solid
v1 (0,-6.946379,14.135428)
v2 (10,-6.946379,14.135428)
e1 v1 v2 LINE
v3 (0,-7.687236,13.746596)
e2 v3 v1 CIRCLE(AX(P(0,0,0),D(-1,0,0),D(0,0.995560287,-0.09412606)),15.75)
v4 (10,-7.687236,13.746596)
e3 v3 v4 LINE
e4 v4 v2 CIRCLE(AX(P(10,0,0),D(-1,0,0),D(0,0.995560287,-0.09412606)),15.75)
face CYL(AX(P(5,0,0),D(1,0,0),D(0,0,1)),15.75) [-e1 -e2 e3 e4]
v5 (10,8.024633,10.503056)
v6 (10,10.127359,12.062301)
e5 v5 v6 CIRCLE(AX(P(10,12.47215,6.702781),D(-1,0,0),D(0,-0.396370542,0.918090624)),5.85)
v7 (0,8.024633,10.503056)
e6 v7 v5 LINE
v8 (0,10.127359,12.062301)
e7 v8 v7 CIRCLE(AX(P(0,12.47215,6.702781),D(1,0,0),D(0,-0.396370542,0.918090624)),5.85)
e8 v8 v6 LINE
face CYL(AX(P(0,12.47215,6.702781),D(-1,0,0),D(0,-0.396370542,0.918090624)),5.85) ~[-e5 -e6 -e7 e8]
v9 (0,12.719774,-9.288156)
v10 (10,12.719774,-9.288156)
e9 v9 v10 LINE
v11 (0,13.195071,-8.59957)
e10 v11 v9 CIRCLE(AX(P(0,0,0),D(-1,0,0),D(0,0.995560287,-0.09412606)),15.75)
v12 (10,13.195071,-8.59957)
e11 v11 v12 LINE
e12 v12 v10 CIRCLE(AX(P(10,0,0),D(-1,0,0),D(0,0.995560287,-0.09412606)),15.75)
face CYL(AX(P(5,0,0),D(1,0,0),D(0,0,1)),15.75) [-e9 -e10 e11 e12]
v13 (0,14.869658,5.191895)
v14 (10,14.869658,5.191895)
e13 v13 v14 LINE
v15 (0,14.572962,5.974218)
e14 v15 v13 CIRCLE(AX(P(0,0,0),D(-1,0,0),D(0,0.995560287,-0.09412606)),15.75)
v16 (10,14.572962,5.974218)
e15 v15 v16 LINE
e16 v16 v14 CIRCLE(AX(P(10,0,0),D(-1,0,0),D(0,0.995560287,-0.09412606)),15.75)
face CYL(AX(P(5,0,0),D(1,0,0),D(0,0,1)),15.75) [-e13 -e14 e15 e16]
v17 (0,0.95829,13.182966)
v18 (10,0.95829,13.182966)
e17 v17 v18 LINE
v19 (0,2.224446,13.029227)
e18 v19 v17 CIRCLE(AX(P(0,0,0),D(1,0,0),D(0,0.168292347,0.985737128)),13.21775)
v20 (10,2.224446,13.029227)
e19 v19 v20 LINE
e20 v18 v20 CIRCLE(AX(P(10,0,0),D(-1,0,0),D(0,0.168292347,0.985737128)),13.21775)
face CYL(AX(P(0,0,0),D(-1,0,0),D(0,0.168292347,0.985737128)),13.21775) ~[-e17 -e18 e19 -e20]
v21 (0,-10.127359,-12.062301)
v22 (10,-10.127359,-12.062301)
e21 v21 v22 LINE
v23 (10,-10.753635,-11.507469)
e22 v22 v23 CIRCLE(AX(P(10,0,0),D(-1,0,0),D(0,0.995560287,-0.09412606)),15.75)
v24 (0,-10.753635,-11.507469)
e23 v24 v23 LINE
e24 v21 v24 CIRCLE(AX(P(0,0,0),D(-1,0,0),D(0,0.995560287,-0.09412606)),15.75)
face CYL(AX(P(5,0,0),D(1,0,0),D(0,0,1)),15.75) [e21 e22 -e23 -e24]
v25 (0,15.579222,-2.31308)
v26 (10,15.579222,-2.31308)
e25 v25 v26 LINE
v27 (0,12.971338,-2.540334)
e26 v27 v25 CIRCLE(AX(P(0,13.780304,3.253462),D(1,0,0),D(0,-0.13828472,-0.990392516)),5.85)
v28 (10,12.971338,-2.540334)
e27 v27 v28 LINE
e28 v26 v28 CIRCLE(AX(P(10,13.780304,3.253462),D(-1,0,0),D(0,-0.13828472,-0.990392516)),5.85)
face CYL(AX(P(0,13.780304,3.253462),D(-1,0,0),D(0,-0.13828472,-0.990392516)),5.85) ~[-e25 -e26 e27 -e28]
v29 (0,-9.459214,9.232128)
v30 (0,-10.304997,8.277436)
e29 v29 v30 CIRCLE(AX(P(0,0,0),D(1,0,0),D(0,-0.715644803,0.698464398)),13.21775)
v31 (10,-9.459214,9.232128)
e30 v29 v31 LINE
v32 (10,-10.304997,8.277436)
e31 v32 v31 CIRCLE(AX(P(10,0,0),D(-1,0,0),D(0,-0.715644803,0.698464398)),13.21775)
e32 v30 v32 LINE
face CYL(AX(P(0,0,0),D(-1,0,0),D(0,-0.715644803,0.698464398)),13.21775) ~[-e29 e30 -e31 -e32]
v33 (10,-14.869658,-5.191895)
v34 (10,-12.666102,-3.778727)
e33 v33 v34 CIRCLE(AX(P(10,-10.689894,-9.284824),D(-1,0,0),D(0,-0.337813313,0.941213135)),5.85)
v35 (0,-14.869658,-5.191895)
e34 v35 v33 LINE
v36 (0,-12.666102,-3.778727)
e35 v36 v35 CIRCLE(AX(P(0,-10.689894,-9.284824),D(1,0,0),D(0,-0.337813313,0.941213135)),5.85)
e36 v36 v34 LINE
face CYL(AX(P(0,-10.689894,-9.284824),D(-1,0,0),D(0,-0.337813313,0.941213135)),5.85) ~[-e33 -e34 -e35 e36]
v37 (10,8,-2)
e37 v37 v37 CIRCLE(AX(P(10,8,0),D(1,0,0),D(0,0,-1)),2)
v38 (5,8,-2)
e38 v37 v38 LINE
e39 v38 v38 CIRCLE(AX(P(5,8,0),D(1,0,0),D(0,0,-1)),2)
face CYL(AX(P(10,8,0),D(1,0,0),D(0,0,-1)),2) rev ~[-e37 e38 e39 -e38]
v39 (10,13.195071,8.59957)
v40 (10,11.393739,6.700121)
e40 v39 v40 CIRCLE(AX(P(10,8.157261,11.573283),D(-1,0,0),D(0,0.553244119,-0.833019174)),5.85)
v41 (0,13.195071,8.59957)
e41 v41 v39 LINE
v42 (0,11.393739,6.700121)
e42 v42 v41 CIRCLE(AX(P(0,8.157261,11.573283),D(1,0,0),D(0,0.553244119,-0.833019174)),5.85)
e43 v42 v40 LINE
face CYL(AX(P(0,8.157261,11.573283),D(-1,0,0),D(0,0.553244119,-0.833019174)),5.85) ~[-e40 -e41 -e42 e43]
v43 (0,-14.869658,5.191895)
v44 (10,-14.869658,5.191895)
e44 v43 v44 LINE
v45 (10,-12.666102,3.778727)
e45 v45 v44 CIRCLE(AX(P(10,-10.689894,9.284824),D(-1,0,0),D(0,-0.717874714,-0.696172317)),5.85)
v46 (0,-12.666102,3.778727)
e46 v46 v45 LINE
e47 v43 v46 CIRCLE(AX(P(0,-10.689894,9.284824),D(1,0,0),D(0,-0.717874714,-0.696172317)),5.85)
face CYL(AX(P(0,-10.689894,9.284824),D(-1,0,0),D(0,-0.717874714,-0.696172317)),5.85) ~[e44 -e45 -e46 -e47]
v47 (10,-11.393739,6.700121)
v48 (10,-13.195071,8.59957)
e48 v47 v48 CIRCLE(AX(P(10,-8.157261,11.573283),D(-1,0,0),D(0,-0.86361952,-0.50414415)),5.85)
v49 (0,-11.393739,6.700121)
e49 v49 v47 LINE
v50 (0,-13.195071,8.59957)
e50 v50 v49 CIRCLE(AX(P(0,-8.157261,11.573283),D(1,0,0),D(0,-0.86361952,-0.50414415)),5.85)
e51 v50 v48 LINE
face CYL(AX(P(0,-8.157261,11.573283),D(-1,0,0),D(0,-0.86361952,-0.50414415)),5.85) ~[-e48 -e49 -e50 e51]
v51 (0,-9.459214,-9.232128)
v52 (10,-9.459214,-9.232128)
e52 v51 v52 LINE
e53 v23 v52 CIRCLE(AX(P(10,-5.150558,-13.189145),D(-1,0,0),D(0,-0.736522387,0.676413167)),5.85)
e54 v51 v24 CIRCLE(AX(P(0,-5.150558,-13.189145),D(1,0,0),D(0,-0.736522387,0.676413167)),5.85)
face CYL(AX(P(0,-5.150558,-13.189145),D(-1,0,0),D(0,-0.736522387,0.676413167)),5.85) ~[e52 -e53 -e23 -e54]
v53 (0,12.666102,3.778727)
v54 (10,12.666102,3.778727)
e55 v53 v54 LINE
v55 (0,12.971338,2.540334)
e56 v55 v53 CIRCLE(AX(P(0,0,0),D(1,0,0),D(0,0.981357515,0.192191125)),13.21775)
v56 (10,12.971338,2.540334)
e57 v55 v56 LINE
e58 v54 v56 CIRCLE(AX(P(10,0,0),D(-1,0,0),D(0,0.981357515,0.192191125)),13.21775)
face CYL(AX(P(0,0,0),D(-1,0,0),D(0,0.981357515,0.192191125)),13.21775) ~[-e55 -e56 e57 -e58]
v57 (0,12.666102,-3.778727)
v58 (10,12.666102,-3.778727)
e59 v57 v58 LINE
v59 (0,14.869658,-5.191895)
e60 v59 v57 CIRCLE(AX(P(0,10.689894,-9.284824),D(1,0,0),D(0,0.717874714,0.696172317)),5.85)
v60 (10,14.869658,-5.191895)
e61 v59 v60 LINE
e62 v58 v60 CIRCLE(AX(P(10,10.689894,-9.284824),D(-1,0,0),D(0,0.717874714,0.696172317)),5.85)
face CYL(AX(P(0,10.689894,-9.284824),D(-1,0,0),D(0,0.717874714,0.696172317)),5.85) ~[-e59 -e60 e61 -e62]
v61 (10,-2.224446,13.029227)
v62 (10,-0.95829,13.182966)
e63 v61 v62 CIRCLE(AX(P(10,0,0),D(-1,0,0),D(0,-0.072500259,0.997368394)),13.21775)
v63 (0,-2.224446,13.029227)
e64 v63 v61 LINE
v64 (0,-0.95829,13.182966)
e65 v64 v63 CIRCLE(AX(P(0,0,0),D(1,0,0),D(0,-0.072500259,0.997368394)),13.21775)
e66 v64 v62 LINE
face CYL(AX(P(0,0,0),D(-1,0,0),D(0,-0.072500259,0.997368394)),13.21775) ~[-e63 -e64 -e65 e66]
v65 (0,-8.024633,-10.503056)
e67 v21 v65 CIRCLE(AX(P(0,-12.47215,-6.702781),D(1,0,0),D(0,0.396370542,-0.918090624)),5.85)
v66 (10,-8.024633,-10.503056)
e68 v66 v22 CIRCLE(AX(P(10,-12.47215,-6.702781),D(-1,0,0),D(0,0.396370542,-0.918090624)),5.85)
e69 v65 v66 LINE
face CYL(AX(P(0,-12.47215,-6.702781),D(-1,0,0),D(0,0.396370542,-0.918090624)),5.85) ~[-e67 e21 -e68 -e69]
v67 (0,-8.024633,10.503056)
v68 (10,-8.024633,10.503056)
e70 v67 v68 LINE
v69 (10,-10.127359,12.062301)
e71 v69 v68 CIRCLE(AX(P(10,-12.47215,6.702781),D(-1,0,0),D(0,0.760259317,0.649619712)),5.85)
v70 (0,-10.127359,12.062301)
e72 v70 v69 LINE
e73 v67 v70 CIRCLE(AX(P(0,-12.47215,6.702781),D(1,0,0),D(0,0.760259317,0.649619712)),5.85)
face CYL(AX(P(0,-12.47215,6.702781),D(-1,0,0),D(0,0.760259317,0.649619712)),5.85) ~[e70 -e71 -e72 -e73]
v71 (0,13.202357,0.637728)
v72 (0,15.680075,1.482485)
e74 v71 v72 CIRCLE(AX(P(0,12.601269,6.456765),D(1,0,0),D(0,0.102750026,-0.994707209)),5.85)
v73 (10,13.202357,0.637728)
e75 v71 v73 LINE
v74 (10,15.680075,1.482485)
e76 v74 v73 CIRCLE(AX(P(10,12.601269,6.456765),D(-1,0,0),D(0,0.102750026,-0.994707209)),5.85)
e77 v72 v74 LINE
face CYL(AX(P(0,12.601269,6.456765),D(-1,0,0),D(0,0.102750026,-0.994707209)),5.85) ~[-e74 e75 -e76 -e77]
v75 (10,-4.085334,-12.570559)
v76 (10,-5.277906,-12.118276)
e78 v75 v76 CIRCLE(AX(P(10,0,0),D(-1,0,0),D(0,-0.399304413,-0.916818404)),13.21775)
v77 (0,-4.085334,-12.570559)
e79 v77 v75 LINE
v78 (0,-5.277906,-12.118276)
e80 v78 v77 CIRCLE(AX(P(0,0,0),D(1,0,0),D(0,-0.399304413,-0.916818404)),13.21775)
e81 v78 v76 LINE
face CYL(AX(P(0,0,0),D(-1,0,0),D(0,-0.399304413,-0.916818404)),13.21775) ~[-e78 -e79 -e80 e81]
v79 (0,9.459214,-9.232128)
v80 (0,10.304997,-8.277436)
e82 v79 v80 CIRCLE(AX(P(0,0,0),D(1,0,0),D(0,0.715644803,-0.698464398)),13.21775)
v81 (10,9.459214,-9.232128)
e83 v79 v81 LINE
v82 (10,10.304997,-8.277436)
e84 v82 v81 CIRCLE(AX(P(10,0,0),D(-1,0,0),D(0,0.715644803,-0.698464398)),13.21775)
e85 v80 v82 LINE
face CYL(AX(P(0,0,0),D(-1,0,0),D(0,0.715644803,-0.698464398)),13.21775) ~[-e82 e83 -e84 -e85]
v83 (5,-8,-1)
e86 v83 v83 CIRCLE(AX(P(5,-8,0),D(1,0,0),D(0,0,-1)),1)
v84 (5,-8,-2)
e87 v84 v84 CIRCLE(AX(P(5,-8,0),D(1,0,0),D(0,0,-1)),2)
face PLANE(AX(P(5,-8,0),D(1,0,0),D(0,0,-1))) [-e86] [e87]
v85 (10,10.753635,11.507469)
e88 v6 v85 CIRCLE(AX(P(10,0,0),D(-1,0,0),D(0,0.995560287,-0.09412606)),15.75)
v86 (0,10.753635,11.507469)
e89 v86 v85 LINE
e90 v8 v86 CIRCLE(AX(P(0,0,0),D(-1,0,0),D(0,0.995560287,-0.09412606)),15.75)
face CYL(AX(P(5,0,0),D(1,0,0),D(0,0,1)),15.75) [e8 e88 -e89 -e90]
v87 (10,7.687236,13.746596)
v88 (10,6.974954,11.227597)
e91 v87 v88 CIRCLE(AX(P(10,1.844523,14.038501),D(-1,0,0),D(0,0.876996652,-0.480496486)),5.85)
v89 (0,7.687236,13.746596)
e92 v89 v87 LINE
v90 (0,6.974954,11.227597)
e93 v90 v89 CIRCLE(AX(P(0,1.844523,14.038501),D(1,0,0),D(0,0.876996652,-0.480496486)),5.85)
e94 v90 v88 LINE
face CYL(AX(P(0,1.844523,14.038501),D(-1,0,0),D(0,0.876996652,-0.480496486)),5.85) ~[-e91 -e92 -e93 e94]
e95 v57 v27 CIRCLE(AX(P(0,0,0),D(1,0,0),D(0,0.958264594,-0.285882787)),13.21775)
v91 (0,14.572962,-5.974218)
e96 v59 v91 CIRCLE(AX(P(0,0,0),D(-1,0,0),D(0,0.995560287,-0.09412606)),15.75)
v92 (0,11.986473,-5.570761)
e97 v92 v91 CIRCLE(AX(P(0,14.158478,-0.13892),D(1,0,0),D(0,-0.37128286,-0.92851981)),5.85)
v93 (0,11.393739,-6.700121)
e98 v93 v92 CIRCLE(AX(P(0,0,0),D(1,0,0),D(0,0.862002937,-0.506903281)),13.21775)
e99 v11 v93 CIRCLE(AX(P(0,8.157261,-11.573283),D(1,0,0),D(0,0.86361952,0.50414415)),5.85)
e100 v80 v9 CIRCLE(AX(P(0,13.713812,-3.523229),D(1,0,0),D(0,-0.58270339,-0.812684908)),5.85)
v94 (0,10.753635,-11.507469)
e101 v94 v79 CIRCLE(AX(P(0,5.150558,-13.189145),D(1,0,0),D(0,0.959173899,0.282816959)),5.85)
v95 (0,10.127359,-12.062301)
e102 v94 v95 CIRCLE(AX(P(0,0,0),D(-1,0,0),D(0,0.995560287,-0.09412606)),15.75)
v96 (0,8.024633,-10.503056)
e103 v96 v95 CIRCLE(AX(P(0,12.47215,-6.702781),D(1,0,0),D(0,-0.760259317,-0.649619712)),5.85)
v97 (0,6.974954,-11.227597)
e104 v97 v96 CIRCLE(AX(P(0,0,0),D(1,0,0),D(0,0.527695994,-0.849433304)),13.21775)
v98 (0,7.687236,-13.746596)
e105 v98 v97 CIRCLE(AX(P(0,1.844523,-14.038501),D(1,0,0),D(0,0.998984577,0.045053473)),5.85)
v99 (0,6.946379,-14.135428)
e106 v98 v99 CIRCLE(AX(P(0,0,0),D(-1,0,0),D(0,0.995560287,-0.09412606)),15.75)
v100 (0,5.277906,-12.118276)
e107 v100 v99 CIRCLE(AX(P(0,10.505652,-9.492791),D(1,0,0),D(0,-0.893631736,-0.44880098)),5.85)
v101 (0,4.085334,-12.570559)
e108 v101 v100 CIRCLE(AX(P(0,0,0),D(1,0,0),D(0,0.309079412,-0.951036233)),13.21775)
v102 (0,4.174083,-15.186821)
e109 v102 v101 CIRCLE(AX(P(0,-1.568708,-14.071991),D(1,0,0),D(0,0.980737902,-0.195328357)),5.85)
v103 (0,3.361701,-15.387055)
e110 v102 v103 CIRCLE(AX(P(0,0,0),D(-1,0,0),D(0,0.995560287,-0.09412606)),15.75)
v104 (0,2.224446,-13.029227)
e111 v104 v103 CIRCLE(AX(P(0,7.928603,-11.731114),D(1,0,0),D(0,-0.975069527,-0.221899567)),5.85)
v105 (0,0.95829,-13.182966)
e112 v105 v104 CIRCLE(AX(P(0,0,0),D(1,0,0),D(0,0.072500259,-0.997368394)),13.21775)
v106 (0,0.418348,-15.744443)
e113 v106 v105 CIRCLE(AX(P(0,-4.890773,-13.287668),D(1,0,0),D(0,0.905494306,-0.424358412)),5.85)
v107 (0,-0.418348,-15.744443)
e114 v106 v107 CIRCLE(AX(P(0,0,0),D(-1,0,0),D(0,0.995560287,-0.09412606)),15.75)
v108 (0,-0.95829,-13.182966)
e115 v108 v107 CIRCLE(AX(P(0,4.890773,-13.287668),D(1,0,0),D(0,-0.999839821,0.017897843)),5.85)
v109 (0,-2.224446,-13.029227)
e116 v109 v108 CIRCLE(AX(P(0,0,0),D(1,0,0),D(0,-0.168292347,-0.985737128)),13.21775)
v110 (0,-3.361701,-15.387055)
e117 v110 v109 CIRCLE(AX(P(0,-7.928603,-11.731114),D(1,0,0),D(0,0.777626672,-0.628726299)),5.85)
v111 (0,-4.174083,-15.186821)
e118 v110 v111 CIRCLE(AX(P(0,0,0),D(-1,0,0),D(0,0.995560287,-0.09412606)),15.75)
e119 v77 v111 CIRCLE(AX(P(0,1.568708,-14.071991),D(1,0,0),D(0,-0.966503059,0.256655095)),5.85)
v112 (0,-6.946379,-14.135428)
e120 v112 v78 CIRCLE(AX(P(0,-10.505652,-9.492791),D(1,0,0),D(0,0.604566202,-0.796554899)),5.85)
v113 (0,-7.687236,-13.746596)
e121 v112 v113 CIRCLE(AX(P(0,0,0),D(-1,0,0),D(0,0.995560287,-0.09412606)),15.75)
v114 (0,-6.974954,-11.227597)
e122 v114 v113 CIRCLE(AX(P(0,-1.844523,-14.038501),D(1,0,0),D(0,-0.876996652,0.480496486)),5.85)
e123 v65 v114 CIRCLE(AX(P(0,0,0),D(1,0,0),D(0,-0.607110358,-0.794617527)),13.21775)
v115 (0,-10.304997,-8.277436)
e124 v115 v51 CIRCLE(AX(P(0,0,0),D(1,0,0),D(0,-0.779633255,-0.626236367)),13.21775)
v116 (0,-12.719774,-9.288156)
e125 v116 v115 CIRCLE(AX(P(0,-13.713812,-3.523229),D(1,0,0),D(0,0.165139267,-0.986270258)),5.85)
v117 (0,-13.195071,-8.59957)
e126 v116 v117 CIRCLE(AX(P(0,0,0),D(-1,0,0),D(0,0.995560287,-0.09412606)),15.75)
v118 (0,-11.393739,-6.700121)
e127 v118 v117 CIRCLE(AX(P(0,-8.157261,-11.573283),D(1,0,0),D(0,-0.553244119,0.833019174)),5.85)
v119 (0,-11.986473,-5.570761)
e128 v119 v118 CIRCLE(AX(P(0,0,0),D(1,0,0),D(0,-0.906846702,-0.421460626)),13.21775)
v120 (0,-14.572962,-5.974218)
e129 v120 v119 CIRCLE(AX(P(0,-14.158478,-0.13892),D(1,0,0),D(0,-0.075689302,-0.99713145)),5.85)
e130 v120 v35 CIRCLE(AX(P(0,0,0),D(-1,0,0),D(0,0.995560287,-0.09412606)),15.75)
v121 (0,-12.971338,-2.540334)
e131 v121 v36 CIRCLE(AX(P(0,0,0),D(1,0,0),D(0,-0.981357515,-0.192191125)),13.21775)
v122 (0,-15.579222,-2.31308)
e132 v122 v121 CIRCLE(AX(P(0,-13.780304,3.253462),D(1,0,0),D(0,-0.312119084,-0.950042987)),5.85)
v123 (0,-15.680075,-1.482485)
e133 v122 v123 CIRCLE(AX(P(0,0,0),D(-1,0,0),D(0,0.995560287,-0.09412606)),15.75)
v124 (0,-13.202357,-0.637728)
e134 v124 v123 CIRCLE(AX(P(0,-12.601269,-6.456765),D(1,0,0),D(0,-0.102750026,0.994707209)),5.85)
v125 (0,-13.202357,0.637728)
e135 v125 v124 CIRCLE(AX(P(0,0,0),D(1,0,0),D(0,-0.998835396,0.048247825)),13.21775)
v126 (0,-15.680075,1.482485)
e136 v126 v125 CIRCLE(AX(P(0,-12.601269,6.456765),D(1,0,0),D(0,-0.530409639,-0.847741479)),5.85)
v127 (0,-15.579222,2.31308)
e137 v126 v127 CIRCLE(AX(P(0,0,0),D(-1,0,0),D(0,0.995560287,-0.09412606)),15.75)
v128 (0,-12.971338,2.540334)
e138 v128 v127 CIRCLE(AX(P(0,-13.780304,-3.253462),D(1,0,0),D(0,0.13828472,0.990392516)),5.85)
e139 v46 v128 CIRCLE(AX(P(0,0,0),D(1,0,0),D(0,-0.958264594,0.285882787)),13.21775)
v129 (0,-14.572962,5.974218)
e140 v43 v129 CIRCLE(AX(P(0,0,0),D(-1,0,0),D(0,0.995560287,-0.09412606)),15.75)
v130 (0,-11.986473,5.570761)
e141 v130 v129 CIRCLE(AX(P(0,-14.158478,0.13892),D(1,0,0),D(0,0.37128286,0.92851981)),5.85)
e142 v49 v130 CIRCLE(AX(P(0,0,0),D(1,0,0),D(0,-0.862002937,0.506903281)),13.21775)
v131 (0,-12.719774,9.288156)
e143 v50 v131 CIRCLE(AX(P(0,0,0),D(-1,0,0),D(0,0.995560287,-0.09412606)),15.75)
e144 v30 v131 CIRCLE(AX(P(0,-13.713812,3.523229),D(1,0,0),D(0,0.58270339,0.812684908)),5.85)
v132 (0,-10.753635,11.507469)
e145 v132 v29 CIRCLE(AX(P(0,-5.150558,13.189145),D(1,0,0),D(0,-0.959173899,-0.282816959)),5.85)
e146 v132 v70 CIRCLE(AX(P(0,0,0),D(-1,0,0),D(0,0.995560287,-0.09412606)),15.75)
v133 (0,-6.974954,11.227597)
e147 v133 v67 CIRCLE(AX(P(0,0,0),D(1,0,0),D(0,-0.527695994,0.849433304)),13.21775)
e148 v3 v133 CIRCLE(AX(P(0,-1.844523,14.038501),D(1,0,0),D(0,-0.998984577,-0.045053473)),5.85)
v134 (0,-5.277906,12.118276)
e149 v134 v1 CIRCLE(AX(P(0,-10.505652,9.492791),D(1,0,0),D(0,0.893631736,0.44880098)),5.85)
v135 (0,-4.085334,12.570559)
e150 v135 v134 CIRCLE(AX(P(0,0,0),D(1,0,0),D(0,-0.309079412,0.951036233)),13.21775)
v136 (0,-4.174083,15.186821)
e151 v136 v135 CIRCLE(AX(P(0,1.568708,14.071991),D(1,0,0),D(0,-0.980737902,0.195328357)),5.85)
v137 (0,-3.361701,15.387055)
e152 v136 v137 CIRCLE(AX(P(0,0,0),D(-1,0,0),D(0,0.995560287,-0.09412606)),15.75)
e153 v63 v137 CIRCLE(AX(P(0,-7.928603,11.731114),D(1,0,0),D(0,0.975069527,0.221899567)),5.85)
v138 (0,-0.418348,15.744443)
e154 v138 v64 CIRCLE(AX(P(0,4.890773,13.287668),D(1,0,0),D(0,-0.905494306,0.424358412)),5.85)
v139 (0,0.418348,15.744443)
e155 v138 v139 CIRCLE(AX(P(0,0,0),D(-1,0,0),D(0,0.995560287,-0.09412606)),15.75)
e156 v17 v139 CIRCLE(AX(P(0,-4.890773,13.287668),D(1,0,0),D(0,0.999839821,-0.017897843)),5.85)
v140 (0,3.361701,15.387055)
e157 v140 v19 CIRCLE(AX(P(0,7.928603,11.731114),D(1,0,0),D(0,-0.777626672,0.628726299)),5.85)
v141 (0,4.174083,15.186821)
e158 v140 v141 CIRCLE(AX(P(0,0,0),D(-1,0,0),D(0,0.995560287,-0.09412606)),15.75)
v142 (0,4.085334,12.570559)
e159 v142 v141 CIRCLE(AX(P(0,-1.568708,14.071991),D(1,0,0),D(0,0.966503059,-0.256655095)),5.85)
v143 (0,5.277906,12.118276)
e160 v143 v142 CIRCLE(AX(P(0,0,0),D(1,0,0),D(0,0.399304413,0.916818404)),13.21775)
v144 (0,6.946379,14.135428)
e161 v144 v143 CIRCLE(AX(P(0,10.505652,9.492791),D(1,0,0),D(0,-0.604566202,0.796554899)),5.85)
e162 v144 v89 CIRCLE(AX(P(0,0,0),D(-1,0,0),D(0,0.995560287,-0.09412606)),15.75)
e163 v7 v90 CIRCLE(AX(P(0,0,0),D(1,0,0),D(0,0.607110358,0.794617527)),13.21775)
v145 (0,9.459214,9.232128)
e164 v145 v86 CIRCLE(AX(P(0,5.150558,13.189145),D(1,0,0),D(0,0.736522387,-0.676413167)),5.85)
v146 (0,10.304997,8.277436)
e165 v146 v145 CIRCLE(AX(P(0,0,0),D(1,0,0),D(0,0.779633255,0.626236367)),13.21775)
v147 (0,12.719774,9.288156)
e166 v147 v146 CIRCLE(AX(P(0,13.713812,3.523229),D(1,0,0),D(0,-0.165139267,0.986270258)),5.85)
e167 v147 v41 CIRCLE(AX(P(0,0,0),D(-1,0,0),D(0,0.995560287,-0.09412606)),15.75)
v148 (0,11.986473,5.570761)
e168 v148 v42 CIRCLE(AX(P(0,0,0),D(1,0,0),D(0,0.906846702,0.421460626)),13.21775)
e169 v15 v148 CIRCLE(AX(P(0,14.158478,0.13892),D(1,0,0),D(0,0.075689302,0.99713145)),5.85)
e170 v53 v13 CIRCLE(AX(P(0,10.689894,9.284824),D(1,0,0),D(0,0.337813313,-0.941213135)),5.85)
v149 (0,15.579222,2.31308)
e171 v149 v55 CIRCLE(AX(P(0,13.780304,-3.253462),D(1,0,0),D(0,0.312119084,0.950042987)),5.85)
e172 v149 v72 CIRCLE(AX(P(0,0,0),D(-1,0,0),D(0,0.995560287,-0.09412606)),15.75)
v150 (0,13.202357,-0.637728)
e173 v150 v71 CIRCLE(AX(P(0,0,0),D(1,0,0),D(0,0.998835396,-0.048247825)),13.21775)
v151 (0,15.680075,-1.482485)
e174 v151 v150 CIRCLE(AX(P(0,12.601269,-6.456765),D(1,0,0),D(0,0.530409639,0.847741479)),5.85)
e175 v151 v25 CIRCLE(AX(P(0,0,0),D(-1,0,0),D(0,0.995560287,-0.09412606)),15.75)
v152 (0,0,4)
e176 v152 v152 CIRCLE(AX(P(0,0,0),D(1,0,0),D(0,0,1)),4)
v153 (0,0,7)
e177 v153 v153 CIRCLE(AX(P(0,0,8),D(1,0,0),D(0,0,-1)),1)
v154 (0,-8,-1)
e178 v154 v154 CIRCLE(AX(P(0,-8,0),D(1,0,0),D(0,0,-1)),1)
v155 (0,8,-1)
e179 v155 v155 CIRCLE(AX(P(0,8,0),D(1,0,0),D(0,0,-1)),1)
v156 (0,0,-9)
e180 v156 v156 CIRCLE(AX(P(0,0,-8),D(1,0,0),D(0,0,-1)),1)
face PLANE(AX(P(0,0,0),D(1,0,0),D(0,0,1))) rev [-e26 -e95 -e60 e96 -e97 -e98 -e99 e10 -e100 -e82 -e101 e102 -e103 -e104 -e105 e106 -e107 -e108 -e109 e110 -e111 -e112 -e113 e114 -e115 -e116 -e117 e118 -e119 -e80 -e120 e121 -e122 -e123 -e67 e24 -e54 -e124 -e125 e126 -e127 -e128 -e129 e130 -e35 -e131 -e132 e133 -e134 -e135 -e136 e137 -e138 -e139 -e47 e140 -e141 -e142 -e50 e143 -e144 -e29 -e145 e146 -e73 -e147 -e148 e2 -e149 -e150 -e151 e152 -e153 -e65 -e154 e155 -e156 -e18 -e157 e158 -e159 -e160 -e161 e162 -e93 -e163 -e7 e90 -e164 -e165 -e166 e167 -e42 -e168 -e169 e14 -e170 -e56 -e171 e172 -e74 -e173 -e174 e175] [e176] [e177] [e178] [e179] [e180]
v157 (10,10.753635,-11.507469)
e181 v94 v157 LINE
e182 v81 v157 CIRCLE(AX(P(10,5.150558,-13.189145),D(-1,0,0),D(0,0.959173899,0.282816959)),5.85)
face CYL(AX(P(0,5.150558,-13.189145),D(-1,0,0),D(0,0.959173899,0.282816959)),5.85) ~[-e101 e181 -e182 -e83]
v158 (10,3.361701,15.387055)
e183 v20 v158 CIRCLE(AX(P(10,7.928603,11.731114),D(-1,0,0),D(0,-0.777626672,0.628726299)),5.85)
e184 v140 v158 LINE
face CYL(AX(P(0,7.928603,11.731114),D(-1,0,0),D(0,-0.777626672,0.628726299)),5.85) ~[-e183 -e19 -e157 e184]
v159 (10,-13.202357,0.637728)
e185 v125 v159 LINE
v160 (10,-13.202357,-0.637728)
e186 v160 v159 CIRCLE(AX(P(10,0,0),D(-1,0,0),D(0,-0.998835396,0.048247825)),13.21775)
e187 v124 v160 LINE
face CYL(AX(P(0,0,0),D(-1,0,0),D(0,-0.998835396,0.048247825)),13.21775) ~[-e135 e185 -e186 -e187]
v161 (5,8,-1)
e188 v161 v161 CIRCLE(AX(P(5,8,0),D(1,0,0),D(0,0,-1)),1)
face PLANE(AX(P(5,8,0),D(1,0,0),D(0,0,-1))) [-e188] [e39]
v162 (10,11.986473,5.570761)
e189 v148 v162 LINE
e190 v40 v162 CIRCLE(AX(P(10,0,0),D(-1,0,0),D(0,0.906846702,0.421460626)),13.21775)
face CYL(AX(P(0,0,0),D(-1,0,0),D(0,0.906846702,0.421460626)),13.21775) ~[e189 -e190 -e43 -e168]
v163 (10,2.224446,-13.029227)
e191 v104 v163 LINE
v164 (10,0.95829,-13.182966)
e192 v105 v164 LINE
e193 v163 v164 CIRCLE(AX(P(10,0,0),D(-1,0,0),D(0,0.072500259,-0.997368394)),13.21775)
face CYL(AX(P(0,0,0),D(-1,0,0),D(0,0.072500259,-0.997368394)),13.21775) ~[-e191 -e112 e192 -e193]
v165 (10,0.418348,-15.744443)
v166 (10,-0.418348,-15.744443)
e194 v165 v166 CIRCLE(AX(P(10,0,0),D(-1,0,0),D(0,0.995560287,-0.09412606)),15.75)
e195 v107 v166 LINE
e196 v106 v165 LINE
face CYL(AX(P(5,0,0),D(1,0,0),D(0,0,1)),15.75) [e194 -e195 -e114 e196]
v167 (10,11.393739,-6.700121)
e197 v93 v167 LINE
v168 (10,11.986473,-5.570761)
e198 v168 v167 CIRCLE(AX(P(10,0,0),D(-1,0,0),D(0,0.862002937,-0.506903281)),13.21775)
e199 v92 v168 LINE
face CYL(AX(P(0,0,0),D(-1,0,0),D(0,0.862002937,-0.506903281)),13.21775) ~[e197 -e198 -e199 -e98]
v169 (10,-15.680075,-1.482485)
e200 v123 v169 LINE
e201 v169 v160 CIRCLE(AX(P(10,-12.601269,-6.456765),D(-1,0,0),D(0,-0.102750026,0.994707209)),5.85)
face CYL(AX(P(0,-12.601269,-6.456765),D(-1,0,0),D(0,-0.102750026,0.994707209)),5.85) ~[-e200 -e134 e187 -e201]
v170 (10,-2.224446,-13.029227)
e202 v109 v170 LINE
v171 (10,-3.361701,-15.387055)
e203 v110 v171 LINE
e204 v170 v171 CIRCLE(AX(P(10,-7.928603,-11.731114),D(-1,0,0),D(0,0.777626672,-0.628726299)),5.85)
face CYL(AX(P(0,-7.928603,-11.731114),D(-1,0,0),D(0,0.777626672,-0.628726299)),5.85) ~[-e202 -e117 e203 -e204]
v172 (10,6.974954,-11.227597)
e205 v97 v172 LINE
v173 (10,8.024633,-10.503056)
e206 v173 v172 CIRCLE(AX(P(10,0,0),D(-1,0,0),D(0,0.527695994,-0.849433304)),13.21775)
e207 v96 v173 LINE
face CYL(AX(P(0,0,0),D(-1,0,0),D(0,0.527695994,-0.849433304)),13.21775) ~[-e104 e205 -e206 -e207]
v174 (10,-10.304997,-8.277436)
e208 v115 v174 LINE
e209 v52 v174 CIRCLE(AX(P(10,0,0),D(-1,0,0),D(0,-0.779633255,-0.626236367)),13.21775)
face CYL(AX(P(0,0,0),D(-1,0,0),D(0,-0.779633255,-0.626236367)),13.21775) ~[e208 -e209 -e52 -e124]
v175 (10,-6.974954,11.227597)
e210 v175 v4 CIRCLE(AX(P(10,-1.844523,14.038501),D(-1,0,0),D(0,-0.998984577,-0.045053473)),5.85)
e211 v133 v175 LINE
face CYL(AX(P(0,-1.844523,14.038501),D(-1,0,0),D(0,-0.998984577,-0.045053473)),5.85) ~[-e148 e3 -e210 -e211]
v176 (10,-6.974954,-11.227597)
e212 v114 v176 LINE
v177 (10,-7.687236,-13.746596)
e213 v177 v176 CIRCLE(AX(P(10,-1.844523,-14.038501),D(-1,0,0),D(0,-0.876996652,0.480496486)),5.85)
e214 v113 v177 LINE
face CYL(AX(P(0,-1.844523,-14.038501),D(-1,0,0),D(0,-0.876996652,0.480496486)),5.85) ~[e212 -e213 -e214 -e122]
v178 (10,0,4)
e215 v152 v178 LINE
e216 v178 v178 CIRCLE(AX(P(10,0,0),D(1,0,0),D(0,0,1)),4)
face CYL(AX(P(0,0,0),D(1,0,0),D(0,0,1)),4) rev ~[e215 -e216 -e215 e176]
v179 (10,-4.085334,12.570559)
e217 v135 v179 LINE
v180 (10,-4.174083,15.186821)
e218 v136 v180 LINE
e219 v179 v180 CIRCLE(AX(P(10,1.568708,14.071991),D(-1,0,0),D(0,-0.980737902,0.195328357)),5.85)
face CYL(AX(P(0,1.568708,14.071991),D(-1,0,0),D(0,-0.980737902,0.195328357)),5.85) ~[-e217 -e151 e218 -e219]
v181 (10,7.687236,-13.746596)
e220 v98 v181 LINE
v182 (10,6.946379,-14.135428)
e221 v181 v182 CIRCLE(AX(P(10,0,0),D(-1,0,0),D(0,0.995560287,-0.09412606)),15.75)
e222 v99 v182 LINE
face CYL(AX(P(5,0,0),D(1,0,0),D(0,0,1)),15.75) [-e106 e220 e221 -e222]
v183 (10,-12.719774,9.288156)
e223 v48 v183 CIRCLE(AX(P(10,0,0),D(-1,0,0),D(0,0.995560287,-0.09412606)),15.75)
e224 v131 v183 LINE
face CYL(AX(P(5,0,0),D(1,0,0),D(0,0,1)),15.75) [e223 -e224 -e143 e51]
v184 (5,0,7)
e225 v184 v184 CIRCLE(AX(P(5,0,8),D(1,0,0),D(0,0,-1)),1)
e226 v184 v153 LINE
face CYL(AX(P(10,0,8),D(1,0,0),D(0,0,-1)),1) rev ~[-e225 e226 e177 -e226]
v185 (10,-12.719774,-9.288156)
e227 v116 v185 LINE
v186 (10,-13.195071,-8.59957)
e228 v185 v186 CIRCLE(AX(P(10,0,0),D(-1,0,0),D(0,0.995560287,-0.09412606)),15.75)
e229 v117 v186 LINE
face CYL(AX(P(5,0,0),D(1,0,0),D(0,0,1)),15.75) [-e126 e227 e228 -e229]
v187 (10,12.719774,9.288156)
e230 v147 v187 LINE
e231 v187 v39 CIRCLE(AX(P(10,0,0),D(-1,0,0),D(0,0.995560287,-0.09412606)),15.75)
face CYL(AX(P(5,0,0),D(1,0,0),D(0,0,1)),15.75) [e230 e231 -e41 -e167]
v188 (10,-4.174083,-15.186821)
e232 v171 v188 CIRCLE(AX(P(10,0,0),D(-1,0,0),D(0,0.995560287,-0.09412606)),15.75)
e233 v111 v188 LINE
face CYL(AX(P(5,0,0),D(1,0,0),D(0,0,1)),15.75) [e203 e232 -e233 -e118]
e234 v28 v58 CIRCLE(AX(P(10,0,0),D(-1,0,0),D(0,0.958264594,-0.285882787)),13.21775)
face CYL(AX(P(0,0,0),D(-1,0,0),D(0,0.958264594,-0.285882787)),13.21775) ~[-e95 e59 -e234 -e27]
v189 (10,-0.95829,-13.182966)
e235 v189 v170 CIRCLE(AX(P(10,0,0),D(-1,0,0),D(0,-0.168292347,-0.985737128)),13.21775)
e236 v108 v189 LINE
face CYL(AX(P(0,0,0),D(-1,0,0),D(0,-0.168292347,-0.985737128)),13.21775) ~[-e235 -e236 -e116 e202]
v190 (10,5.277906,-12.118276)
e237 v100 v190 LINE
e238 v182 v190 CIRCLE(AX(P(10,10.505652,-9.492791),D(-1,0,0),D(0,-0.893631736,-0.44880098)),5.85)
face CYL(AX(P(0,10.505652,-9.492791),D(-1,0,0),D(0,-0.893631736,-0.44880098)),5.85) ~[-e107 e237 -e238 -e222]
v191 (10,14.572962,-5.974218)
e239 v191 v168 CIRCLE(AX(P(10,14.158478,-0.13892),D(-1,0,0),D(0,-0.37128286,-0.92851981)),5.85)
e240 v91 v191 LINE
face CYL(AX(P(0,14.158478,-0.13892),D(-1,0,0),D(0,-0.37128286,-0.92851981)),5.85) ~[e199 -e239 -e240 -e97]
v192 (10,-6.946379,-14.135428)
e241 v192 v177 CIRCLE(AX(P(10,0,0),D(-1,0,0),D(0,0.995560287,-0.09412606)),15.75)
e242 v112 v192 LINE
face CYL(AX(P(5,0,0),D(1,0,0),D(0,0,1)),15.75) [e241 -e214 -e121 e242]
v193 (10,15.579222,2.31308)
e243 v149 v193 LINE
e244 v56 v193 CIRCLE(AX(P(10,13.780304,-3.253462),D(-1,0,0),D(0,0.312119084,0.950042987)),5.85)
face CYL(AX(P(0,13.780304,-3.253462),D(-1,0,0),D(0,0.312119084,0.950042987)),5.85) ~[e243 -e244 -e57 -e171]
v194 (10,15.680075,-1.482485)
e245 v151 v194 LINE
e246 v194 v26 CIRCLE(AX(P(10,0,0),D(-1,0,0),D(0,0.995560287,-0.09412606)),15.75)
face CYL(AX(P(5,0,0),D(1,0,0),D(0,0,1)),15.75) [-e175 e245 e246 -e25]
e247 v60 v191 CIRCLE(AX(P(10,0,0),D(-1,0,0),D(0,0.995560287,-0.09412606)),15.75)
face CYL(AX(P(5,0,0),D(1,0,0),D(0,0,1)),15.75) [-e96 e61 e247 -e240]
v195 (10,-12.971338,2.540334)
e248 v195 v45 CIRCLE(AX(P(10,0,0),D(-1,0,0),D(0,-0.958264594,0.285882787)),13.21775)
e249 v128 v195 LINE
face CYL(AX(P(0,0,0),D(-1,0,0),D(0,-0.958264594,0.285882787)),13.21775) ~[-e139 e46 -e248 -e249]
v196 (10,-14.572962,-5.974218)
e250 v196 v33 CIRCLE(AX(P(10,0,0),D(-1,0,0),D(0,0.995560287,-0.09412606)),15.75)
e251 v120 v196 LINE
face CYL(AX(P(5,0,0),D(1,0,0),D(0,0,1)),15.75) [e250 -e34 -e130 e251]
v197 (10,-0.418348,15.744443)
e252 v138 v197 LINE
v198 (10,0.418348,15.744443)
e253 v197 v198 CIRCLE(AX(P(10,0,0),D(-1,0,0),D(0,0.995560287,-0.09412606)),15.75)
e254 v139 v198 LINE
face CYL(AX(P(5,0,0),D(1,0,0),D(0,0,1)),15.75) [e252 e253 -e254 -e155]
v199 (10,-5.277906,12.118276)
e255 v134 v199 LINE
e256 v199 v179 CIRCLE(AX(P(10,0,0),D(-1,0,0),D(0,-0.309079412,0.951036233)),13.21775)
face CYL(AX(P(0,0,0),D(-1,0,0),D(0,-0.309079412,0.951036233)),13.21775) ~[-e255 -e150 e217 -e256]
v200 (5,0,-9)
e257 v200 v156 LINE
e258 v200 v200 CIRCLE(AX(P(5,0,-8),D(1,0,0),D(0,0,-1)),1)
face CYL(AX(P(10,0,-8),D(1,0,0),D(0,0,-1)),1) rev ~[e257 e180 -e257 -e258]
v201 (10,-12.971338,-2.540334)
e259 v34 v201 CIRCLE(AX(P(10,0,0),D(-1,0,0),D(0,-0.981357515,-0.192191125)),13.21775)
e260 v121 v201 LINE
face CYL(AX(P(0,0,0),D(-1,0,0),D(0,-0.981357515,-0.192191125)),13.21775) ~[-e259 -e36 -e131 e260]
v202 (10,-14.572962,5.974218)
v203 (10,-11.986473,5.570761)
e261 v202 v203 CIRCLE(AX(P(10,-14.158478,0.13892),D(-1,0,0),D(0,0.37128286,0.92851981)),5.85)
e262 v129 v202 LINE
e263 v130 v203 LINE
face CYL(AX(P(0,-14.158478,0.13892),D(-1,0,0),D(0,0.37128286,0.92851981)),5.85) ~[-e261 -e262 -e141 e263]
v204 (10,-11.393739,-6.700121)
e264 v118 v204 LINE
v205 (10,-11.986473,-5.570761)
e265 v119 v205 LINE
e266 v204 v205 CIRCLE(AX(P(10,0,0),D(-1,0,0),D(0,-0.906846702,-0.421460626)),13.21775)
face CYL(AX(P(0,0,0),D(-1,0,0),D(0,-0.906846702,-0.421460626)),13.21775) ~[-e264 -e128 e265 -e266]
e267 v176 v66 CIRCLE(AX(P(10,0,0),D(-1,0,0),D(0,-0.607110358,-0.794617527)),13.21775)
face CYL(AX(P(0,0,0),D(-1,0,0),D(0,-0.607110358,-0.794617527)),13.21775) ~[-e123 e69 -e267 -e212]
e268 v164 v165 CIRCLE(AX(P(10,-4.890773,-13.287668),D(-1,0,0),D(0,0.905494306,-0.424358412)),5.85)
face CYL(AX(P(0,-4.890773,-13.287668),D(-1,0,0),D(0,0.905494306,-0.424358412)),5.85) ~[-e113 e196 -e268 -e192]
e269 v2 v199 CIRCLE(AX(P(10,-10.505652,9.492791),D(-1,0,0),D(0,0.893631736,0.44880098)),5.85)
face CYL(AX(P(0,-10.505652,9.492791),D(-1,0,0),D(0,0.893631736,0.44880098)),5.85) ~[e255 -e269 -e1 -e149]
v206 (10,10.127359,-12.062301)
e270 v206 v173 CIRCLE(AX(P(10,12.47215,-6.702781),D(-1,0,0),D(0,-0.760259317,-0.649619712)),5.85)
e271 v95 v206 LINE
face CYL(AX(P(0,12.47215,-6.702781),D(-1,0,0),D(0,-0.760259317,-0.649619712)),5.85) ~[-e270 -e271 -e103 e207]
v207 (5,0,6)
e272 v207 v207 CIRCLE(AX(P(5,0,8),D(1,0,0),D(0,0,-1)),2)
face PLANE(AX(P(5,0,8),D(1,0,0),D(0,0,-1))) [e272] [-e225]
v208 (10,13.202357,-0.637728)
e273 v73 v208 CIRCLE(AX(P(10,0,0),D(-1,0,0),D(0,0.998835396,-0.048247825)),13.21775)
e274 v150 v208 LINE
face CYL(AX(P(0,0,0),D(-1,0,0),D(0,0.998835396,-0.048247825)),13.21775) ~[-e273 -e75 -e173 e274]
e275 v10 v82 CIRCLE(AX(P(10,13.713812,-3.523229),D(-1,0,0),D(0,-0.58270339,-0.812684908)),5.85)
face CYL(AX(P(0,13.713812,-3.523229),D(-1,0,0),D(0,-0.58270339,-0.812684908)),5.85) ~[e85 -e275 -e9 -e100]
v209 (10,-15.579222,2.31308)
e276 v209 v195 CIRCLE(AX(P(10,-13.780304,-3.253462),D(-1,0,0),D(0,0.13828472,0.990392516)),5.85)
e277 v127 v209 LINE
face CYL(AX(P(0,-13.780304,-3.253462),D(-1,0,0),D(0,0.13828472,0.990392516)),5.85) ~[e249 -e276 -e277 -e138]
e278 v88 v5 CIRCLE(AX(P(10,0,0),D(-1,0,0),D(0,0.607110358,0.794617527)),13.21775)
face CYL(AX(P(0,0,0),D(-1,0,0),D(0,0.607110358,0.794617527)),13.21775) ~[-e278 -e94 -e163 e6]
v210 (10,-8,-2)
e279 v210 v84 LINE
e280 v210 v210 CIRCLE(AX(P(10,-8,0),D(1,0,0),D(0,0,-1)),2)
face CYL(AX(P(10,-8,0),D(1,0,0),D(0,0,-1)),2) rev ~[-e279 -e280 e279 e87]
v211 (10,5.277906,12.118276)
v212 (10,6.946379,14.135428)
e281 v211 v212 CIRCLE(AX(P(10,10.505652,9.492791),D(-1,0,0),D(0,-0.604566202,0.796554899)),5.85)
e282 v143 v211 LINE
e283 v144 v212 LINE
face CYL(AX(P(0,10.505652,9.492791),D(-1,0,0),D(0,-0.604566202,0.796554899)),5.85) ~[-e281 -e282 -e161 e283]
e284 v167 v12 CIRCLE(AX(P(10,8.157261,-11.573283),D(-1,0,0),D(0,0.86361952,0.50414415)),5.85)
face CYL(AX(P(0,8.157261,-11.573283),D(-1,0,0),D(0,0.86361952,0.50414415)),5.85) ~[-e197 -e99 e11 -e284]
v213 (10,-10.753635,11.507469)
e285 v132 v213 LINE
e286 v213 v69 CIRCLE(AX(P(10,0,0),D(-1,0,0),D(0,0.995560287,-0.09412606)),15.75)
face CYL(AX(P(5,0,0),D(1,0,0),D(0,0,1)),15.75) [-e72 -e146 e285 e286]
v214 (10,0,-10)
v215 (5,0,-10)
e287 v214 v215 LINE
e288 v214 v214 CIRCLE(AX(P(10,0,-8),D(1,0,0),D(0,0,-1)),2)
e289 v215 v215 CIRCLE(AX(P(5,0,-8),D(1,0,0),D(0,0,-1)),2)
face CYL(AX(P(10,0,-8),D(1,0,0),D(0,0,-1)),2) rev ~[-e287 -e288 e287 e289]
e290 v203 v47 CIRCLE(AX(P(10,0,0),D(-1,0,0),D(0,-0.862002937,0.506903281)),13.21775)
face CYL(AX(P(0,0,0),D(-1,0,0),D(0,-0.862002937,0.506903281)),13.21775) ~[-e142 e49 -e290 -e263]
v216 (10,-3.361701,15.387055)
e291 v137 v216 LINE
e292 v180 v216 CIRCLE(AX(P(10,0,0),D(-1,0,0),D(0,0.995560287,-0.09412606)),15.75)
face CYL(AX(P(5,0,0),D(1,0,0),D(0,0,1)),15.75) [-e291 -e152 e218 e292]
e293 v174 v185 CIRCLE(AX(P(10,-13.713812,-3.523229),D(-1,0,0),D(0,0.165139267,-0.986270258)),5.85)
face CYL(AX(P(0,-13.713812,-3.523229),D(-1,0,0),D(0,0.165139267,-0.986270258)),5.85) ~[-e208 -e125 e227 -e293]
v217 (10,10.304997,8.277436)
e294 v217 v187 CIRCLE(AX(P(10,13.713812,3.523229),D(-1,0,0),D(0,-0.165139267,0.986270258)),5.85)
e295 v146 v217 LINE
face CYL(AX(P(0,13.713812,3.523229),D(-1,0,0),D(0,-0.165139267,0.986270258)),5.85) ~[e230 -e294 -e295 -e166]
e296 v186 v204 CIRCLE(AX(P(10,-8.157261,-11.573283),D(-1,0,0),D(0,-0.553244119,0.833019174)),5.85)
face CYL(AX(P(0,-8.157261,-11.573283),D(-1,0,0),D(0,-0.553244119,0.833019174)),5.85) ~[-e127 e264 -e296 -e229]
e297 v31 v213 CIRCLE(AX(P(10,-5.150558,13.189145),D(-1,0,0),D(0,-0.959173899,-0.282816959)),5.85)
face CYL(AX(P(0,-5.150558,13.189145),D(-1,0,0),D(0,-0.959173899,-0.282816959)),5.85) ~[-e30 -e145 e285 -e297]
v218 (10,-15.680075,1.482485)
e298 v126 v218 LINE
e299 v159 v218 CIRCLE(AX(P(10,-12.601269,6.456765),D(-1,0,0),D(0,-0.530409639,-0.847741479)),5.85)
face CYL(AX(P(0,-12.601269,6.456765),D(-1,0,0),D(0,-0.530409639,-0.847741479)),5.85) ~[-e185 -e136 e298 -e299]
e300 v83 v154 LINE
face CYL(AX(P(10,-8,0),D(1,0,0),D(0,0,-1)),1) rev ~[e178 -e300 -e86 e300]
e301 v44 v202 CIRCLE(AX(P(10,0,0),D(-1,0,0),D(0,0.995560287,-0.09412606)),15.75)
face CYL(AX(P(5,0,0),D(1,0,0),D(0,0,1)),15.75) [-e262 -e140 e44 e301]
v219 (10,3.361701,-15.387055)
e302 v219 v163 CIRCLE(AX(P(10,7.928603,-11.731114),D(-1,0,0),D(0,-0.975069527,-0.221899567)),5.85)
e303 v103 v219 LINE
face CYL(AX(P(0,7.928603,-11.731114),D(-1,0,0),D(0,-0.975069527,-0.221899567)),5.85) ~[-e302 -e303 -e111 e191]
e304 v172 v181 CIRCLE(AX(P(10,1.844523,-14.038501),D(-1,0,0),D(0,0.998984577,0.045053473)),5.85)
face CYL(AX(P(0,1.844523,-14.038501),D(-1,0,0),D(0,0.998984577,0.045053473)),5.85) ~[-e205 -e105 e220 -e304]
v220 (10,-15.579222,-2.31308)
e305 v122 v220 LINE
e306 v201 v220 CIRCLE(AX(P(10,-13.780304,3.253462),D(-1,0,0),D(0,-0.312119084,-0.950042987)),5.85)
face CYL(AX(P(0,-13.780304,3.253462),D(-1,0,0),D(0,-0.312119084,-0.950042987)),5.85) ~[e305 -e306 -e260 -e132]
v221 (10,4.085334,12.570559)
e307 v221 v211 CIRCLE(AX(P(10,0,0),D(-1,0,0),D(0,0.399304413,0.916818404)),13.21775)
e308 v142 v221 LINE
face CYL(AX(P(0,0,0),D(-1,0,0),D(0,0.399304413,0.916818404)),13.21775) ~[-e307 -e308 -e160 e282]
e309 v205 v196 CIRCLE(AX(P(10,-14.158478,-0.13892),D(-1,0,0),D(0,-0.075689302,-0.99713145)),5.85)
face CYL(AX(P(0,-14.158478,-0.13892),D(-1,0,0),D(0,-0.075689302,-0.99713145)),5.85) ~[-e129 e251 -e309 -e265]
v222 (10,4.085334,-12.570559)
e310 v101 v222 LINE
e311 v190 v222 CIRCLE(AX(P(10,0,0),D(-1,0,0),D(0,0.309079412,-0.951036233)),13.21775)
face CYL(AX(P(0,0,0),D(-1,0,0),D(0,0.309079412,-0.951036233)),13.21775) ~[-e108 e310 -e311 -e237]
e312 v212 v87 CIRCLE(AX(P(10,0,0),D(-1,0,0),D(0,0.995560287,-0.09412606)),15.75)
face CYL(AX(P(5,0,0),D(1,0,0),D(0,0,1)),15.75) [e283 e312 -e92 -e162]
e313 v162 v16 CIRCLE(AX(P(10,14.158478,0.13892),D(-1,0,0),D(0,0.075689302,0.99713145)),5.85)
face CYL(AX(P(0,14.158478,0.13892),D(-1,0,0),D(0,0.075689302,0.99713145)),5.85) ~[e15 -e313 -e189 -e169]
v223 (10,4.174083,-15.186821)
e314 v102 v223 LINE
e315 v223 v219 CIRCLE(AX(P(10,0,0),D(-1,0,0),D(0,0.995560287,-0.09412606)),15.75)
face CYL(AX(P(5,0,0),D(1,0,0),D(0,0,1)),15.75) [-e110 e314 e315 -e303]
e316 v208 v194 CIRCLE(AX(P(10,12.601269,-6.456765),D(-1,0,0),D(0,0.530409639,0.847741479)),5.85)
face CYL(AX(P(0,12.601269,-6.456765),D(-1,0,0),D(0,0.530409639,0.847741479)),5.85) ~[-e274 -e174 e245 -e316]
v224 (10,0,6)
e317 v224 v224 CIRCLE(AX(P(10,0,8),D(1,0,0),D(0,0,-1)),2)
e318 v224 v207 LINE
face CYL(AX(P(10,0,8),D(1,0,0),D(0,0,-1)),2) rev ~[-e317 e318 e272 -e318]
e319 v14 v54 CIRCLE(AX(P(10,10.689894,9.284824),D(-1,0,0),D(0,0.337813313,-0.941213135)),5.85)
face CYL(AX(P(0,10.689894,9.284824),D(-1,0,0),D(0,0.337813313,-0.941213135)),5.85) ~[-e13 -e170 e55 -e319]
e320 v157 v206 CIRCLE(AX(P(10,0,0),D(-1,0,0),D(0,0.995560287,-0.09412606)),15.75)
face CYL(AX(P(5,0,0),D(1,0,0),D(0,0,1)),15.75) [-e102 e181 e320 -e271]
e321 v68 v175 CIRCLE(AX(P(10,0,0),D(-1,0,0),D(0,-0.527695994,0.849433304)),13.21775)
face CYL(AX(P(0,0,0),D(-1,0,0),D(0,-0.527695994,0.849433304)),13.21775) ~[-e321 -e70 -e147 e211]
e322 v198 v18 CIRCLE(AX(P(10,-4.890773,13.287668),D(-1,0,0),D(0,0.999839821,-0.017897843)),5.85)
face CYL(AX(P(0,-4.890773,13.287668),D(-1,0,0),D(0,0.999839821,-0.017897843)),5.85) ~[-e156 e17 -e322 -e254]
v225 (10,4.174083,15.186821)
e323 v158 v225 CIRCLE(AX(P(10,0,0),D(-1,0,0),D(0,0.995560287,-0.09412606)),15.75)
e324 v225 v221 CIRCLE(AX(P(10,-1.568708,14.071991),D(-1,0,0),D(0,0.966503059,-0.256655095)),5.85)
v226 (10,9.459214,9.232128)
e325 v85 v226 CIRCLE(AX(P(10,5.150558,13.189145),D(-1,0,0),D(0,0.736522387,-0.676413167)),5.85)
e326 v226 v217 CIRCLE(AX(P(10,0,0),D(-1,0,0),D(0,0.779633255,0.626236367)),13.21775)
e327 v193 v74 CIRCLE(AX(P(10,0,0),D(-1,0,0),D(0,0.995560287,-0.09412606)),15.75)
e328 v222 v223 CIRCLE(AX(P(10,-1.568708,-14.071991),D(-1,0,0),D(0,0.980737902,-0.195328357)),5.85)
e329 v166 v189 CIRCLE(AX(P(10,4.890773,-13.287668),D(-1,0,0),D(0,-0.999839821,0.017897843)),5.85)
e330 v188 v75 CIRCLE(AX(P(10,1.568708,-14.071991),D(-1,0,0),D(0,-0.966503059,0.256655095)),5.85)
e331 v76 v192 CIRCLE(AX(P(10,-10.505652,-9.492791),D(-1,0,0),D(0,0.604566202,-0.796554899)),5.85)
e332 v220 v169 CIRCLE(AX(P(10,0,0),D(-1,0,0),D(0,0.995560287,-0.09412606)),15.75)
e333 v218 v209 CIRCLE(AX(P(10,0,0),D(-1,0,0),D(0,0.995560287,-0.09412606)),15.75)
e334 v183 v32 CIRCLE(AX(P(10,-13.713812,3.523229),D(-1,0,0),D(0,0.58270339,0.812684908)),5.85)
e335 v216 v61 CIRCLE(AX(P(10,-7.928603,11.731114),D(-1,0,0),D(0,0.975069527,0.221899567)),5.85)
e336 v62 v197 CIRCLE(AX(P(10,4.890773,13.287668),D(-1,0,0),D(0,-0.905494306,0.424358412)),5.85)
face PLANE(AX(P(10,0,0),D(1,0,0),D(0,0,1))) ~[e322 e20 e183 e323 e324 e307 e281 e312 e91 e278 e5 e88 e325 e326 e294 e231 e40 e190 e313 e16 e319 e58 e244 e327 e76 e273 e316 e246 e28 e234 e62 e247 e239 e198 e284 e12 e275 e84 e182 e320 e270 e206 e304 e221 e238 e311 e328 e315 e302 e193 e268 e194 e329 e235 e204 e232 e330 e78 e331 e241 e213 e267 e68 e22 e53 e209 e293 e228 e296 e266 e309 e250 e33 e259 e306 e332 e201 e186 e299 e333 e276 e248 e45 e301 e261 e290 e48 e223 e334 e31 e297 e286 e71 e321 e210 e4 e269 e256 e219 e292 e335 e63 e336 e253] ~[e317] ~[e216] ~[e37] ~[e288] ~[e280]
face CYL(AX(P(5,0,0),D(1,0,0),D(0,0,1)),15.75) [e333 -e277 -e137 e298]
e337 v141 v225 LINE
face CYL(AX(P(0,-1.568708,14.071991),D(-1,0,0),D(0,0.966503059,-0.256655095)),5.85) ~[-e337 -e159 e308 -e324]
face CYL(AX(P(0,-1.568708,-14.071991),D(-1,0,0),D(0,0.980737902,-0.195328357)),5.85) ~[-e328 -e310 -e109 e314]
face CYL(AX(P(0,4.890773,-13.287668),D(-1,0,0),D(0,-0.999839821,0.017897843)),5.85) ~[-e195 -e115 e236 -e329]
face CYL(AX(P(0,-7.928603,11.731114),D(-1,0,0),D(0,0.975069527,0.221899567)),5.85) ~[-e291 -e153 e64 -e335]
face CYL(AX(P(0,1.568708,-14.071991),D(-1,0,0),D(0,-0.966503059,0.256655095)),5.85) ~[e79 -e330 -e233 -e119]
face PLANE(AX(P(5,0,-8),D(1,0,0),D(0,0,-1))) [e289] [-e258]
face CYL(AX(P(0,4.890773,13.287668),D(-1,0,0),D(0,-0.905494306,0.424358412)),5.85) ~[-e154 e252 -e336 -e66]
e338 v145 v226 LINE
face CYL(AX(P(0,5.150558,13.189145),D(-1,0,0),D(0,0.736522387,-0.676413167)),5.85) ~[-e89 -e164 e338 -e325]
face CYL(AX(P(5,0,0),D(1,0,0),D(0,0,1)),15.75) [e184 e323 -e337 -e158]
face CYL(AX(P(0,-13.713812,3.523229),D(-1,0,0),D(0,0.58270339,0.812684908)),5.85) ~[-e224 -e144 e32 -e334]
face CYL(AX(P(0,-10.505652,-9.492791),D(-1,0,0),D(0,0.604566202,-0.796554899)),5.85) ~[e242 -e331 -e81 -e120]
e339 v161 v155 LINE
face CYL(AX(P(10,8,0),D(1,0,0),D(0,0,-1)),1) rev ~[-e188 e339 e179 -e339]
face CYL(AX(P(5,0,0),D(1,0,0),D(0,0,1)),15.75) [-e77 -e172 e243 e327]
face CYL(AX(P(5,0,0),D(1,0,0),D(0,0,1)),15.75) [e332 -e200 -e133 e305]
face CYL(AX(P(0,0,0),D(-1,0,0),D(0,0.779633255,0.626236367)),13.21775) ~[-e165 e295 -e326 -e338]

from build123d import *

# Parameters (mm, degrees)
BASPROSKE_W        = 10
BASPROSKE_H        = 15.75
TOOTHCUT_DEPTH     = 25.415671197
TEETHCUTS_COUNT    = 26
TEETHCUTS_ANGLE    = 346.153846154
BORSKE_R           = 4
BORE_DEPTH         = 50.0000508
SKETCH1_R          = 2
CUT_EXTRUDE2_DEPTH = 5
SKETCH2_R          = 1
CUT_EXTRUDE3_DEPTH = 10


with BuildPart() as part:
    # BasProSke → Base-Revolve (revolve)
    with BuildSketch(Plane(origin=(0, 0, 0), x_dir=(1, 0, 0), z_dir=(0, 1, 0)), mode=Mode.PRIVATE) as base_revolve_sk:
        with Locations((5, 7.875)):
            Rectangle(BASPROSKE_W, BASPROSKE_H)
    revolve(base_revolve_sk.sketch.rotate(Axis((-10, 0, 0), (1, 0, 0)), 180), axis=Axis((-10, 0, 0), (1, 0, 0)))

    # TooCutSke → ToothCut (cut, through all)
    with BuildSketch(Plane(origin=(0, 0, 0), x_dir=(0, 0, -1), z_dir=(1, 0, 0))):
        with BuildLine():
            ThreePointArc((0.637727704, 13.202356549), (0, 13.21775), (-0.637727704, 13.202356549))
            ThreePointArc((-0.637727704, 13.202356549), (-0.924330219, 14.50249659), (-1.497477225, 15.704165279))
            ThreePointArc((-1.497477225, 15.704165279), (0, 15.7754), (1.497477225, 15.704165279))
            ThreePointArc((1.497477225, 15.704165279), (0.924330219, 14.50249659), (0.637727704, 13.202356549))
        make_face()
    toothcut = extrude(amount=TOOTHCUT_DEPTH, mode=Mode.SUBTRACT)

    # TeethCuts: ToothCut ×26 about axis
    teethcuts_axis = Axis((-10, 0, 0), (1, 0, 0))
    for i in range(1, TEETHCUTS_COUNT):
        add(toothcut.rotate(teethcuts_axis, i * TEETHCUTS_ANGLE / (TEETHCUTS_COUNT - 1)), mode=Mode.SUBTRACT)

    # BorSke → Bore (cut, symmetric)
    with BuildSketch(Plane(origin=(0, 0, 0), x_dir=(0, 0, -1), z_dir=(1, 0, 0))):
        with Locations(Location((0, 0, 0), (0, 0, 180))):
            Circle(BORSKE_R)
    extrude(amount=BORE_DEPTH, both=True, mode=Mode.SUBTRACT)

    # Sketch1 → Cut-Extrude2 (cut)
    with BuildSketch(Plane(origin=(10, 0, 0), x_dir=(0, 0, -1), z_dir=(1, 0, 0))):
        with Locations((8, 0)):
            Circle(SKETCH1_R)
        with Locations((0, -8)):
            Circle(SKETCH1_R)
        with Locations((-8, 0)):
            Circle(SKETCH1_R)
        with Locations((0, 8)):
            Circle(SKETCH1_R)
    extrude(amount=-CUT_EXTRUDE2_DEPTH, mode=Mode.SUBTRACT)

    # Sketch2 → Cut-Extrude3 (cut)
    with BuildSketch(Plane(origin=(10, 0, 0), x_dir=(0, 0, -1), z_dir=(1, 0, 0))):
        with Locations((8, 0)):
            Circle(SKETCH2_R)
        with Locations((0, -8)):
            Circle(SKETCH2_R)
        with Locations((-8, 0)):
            Circle(SKETCH2_R)
        with Locations((0, 8)):
            Circle(SKETCH2_R)
    extrude(amount=-CUT_EXTRUDE3_DEPTH, mode=Mode.SUBTRACT)


solid = part.part
